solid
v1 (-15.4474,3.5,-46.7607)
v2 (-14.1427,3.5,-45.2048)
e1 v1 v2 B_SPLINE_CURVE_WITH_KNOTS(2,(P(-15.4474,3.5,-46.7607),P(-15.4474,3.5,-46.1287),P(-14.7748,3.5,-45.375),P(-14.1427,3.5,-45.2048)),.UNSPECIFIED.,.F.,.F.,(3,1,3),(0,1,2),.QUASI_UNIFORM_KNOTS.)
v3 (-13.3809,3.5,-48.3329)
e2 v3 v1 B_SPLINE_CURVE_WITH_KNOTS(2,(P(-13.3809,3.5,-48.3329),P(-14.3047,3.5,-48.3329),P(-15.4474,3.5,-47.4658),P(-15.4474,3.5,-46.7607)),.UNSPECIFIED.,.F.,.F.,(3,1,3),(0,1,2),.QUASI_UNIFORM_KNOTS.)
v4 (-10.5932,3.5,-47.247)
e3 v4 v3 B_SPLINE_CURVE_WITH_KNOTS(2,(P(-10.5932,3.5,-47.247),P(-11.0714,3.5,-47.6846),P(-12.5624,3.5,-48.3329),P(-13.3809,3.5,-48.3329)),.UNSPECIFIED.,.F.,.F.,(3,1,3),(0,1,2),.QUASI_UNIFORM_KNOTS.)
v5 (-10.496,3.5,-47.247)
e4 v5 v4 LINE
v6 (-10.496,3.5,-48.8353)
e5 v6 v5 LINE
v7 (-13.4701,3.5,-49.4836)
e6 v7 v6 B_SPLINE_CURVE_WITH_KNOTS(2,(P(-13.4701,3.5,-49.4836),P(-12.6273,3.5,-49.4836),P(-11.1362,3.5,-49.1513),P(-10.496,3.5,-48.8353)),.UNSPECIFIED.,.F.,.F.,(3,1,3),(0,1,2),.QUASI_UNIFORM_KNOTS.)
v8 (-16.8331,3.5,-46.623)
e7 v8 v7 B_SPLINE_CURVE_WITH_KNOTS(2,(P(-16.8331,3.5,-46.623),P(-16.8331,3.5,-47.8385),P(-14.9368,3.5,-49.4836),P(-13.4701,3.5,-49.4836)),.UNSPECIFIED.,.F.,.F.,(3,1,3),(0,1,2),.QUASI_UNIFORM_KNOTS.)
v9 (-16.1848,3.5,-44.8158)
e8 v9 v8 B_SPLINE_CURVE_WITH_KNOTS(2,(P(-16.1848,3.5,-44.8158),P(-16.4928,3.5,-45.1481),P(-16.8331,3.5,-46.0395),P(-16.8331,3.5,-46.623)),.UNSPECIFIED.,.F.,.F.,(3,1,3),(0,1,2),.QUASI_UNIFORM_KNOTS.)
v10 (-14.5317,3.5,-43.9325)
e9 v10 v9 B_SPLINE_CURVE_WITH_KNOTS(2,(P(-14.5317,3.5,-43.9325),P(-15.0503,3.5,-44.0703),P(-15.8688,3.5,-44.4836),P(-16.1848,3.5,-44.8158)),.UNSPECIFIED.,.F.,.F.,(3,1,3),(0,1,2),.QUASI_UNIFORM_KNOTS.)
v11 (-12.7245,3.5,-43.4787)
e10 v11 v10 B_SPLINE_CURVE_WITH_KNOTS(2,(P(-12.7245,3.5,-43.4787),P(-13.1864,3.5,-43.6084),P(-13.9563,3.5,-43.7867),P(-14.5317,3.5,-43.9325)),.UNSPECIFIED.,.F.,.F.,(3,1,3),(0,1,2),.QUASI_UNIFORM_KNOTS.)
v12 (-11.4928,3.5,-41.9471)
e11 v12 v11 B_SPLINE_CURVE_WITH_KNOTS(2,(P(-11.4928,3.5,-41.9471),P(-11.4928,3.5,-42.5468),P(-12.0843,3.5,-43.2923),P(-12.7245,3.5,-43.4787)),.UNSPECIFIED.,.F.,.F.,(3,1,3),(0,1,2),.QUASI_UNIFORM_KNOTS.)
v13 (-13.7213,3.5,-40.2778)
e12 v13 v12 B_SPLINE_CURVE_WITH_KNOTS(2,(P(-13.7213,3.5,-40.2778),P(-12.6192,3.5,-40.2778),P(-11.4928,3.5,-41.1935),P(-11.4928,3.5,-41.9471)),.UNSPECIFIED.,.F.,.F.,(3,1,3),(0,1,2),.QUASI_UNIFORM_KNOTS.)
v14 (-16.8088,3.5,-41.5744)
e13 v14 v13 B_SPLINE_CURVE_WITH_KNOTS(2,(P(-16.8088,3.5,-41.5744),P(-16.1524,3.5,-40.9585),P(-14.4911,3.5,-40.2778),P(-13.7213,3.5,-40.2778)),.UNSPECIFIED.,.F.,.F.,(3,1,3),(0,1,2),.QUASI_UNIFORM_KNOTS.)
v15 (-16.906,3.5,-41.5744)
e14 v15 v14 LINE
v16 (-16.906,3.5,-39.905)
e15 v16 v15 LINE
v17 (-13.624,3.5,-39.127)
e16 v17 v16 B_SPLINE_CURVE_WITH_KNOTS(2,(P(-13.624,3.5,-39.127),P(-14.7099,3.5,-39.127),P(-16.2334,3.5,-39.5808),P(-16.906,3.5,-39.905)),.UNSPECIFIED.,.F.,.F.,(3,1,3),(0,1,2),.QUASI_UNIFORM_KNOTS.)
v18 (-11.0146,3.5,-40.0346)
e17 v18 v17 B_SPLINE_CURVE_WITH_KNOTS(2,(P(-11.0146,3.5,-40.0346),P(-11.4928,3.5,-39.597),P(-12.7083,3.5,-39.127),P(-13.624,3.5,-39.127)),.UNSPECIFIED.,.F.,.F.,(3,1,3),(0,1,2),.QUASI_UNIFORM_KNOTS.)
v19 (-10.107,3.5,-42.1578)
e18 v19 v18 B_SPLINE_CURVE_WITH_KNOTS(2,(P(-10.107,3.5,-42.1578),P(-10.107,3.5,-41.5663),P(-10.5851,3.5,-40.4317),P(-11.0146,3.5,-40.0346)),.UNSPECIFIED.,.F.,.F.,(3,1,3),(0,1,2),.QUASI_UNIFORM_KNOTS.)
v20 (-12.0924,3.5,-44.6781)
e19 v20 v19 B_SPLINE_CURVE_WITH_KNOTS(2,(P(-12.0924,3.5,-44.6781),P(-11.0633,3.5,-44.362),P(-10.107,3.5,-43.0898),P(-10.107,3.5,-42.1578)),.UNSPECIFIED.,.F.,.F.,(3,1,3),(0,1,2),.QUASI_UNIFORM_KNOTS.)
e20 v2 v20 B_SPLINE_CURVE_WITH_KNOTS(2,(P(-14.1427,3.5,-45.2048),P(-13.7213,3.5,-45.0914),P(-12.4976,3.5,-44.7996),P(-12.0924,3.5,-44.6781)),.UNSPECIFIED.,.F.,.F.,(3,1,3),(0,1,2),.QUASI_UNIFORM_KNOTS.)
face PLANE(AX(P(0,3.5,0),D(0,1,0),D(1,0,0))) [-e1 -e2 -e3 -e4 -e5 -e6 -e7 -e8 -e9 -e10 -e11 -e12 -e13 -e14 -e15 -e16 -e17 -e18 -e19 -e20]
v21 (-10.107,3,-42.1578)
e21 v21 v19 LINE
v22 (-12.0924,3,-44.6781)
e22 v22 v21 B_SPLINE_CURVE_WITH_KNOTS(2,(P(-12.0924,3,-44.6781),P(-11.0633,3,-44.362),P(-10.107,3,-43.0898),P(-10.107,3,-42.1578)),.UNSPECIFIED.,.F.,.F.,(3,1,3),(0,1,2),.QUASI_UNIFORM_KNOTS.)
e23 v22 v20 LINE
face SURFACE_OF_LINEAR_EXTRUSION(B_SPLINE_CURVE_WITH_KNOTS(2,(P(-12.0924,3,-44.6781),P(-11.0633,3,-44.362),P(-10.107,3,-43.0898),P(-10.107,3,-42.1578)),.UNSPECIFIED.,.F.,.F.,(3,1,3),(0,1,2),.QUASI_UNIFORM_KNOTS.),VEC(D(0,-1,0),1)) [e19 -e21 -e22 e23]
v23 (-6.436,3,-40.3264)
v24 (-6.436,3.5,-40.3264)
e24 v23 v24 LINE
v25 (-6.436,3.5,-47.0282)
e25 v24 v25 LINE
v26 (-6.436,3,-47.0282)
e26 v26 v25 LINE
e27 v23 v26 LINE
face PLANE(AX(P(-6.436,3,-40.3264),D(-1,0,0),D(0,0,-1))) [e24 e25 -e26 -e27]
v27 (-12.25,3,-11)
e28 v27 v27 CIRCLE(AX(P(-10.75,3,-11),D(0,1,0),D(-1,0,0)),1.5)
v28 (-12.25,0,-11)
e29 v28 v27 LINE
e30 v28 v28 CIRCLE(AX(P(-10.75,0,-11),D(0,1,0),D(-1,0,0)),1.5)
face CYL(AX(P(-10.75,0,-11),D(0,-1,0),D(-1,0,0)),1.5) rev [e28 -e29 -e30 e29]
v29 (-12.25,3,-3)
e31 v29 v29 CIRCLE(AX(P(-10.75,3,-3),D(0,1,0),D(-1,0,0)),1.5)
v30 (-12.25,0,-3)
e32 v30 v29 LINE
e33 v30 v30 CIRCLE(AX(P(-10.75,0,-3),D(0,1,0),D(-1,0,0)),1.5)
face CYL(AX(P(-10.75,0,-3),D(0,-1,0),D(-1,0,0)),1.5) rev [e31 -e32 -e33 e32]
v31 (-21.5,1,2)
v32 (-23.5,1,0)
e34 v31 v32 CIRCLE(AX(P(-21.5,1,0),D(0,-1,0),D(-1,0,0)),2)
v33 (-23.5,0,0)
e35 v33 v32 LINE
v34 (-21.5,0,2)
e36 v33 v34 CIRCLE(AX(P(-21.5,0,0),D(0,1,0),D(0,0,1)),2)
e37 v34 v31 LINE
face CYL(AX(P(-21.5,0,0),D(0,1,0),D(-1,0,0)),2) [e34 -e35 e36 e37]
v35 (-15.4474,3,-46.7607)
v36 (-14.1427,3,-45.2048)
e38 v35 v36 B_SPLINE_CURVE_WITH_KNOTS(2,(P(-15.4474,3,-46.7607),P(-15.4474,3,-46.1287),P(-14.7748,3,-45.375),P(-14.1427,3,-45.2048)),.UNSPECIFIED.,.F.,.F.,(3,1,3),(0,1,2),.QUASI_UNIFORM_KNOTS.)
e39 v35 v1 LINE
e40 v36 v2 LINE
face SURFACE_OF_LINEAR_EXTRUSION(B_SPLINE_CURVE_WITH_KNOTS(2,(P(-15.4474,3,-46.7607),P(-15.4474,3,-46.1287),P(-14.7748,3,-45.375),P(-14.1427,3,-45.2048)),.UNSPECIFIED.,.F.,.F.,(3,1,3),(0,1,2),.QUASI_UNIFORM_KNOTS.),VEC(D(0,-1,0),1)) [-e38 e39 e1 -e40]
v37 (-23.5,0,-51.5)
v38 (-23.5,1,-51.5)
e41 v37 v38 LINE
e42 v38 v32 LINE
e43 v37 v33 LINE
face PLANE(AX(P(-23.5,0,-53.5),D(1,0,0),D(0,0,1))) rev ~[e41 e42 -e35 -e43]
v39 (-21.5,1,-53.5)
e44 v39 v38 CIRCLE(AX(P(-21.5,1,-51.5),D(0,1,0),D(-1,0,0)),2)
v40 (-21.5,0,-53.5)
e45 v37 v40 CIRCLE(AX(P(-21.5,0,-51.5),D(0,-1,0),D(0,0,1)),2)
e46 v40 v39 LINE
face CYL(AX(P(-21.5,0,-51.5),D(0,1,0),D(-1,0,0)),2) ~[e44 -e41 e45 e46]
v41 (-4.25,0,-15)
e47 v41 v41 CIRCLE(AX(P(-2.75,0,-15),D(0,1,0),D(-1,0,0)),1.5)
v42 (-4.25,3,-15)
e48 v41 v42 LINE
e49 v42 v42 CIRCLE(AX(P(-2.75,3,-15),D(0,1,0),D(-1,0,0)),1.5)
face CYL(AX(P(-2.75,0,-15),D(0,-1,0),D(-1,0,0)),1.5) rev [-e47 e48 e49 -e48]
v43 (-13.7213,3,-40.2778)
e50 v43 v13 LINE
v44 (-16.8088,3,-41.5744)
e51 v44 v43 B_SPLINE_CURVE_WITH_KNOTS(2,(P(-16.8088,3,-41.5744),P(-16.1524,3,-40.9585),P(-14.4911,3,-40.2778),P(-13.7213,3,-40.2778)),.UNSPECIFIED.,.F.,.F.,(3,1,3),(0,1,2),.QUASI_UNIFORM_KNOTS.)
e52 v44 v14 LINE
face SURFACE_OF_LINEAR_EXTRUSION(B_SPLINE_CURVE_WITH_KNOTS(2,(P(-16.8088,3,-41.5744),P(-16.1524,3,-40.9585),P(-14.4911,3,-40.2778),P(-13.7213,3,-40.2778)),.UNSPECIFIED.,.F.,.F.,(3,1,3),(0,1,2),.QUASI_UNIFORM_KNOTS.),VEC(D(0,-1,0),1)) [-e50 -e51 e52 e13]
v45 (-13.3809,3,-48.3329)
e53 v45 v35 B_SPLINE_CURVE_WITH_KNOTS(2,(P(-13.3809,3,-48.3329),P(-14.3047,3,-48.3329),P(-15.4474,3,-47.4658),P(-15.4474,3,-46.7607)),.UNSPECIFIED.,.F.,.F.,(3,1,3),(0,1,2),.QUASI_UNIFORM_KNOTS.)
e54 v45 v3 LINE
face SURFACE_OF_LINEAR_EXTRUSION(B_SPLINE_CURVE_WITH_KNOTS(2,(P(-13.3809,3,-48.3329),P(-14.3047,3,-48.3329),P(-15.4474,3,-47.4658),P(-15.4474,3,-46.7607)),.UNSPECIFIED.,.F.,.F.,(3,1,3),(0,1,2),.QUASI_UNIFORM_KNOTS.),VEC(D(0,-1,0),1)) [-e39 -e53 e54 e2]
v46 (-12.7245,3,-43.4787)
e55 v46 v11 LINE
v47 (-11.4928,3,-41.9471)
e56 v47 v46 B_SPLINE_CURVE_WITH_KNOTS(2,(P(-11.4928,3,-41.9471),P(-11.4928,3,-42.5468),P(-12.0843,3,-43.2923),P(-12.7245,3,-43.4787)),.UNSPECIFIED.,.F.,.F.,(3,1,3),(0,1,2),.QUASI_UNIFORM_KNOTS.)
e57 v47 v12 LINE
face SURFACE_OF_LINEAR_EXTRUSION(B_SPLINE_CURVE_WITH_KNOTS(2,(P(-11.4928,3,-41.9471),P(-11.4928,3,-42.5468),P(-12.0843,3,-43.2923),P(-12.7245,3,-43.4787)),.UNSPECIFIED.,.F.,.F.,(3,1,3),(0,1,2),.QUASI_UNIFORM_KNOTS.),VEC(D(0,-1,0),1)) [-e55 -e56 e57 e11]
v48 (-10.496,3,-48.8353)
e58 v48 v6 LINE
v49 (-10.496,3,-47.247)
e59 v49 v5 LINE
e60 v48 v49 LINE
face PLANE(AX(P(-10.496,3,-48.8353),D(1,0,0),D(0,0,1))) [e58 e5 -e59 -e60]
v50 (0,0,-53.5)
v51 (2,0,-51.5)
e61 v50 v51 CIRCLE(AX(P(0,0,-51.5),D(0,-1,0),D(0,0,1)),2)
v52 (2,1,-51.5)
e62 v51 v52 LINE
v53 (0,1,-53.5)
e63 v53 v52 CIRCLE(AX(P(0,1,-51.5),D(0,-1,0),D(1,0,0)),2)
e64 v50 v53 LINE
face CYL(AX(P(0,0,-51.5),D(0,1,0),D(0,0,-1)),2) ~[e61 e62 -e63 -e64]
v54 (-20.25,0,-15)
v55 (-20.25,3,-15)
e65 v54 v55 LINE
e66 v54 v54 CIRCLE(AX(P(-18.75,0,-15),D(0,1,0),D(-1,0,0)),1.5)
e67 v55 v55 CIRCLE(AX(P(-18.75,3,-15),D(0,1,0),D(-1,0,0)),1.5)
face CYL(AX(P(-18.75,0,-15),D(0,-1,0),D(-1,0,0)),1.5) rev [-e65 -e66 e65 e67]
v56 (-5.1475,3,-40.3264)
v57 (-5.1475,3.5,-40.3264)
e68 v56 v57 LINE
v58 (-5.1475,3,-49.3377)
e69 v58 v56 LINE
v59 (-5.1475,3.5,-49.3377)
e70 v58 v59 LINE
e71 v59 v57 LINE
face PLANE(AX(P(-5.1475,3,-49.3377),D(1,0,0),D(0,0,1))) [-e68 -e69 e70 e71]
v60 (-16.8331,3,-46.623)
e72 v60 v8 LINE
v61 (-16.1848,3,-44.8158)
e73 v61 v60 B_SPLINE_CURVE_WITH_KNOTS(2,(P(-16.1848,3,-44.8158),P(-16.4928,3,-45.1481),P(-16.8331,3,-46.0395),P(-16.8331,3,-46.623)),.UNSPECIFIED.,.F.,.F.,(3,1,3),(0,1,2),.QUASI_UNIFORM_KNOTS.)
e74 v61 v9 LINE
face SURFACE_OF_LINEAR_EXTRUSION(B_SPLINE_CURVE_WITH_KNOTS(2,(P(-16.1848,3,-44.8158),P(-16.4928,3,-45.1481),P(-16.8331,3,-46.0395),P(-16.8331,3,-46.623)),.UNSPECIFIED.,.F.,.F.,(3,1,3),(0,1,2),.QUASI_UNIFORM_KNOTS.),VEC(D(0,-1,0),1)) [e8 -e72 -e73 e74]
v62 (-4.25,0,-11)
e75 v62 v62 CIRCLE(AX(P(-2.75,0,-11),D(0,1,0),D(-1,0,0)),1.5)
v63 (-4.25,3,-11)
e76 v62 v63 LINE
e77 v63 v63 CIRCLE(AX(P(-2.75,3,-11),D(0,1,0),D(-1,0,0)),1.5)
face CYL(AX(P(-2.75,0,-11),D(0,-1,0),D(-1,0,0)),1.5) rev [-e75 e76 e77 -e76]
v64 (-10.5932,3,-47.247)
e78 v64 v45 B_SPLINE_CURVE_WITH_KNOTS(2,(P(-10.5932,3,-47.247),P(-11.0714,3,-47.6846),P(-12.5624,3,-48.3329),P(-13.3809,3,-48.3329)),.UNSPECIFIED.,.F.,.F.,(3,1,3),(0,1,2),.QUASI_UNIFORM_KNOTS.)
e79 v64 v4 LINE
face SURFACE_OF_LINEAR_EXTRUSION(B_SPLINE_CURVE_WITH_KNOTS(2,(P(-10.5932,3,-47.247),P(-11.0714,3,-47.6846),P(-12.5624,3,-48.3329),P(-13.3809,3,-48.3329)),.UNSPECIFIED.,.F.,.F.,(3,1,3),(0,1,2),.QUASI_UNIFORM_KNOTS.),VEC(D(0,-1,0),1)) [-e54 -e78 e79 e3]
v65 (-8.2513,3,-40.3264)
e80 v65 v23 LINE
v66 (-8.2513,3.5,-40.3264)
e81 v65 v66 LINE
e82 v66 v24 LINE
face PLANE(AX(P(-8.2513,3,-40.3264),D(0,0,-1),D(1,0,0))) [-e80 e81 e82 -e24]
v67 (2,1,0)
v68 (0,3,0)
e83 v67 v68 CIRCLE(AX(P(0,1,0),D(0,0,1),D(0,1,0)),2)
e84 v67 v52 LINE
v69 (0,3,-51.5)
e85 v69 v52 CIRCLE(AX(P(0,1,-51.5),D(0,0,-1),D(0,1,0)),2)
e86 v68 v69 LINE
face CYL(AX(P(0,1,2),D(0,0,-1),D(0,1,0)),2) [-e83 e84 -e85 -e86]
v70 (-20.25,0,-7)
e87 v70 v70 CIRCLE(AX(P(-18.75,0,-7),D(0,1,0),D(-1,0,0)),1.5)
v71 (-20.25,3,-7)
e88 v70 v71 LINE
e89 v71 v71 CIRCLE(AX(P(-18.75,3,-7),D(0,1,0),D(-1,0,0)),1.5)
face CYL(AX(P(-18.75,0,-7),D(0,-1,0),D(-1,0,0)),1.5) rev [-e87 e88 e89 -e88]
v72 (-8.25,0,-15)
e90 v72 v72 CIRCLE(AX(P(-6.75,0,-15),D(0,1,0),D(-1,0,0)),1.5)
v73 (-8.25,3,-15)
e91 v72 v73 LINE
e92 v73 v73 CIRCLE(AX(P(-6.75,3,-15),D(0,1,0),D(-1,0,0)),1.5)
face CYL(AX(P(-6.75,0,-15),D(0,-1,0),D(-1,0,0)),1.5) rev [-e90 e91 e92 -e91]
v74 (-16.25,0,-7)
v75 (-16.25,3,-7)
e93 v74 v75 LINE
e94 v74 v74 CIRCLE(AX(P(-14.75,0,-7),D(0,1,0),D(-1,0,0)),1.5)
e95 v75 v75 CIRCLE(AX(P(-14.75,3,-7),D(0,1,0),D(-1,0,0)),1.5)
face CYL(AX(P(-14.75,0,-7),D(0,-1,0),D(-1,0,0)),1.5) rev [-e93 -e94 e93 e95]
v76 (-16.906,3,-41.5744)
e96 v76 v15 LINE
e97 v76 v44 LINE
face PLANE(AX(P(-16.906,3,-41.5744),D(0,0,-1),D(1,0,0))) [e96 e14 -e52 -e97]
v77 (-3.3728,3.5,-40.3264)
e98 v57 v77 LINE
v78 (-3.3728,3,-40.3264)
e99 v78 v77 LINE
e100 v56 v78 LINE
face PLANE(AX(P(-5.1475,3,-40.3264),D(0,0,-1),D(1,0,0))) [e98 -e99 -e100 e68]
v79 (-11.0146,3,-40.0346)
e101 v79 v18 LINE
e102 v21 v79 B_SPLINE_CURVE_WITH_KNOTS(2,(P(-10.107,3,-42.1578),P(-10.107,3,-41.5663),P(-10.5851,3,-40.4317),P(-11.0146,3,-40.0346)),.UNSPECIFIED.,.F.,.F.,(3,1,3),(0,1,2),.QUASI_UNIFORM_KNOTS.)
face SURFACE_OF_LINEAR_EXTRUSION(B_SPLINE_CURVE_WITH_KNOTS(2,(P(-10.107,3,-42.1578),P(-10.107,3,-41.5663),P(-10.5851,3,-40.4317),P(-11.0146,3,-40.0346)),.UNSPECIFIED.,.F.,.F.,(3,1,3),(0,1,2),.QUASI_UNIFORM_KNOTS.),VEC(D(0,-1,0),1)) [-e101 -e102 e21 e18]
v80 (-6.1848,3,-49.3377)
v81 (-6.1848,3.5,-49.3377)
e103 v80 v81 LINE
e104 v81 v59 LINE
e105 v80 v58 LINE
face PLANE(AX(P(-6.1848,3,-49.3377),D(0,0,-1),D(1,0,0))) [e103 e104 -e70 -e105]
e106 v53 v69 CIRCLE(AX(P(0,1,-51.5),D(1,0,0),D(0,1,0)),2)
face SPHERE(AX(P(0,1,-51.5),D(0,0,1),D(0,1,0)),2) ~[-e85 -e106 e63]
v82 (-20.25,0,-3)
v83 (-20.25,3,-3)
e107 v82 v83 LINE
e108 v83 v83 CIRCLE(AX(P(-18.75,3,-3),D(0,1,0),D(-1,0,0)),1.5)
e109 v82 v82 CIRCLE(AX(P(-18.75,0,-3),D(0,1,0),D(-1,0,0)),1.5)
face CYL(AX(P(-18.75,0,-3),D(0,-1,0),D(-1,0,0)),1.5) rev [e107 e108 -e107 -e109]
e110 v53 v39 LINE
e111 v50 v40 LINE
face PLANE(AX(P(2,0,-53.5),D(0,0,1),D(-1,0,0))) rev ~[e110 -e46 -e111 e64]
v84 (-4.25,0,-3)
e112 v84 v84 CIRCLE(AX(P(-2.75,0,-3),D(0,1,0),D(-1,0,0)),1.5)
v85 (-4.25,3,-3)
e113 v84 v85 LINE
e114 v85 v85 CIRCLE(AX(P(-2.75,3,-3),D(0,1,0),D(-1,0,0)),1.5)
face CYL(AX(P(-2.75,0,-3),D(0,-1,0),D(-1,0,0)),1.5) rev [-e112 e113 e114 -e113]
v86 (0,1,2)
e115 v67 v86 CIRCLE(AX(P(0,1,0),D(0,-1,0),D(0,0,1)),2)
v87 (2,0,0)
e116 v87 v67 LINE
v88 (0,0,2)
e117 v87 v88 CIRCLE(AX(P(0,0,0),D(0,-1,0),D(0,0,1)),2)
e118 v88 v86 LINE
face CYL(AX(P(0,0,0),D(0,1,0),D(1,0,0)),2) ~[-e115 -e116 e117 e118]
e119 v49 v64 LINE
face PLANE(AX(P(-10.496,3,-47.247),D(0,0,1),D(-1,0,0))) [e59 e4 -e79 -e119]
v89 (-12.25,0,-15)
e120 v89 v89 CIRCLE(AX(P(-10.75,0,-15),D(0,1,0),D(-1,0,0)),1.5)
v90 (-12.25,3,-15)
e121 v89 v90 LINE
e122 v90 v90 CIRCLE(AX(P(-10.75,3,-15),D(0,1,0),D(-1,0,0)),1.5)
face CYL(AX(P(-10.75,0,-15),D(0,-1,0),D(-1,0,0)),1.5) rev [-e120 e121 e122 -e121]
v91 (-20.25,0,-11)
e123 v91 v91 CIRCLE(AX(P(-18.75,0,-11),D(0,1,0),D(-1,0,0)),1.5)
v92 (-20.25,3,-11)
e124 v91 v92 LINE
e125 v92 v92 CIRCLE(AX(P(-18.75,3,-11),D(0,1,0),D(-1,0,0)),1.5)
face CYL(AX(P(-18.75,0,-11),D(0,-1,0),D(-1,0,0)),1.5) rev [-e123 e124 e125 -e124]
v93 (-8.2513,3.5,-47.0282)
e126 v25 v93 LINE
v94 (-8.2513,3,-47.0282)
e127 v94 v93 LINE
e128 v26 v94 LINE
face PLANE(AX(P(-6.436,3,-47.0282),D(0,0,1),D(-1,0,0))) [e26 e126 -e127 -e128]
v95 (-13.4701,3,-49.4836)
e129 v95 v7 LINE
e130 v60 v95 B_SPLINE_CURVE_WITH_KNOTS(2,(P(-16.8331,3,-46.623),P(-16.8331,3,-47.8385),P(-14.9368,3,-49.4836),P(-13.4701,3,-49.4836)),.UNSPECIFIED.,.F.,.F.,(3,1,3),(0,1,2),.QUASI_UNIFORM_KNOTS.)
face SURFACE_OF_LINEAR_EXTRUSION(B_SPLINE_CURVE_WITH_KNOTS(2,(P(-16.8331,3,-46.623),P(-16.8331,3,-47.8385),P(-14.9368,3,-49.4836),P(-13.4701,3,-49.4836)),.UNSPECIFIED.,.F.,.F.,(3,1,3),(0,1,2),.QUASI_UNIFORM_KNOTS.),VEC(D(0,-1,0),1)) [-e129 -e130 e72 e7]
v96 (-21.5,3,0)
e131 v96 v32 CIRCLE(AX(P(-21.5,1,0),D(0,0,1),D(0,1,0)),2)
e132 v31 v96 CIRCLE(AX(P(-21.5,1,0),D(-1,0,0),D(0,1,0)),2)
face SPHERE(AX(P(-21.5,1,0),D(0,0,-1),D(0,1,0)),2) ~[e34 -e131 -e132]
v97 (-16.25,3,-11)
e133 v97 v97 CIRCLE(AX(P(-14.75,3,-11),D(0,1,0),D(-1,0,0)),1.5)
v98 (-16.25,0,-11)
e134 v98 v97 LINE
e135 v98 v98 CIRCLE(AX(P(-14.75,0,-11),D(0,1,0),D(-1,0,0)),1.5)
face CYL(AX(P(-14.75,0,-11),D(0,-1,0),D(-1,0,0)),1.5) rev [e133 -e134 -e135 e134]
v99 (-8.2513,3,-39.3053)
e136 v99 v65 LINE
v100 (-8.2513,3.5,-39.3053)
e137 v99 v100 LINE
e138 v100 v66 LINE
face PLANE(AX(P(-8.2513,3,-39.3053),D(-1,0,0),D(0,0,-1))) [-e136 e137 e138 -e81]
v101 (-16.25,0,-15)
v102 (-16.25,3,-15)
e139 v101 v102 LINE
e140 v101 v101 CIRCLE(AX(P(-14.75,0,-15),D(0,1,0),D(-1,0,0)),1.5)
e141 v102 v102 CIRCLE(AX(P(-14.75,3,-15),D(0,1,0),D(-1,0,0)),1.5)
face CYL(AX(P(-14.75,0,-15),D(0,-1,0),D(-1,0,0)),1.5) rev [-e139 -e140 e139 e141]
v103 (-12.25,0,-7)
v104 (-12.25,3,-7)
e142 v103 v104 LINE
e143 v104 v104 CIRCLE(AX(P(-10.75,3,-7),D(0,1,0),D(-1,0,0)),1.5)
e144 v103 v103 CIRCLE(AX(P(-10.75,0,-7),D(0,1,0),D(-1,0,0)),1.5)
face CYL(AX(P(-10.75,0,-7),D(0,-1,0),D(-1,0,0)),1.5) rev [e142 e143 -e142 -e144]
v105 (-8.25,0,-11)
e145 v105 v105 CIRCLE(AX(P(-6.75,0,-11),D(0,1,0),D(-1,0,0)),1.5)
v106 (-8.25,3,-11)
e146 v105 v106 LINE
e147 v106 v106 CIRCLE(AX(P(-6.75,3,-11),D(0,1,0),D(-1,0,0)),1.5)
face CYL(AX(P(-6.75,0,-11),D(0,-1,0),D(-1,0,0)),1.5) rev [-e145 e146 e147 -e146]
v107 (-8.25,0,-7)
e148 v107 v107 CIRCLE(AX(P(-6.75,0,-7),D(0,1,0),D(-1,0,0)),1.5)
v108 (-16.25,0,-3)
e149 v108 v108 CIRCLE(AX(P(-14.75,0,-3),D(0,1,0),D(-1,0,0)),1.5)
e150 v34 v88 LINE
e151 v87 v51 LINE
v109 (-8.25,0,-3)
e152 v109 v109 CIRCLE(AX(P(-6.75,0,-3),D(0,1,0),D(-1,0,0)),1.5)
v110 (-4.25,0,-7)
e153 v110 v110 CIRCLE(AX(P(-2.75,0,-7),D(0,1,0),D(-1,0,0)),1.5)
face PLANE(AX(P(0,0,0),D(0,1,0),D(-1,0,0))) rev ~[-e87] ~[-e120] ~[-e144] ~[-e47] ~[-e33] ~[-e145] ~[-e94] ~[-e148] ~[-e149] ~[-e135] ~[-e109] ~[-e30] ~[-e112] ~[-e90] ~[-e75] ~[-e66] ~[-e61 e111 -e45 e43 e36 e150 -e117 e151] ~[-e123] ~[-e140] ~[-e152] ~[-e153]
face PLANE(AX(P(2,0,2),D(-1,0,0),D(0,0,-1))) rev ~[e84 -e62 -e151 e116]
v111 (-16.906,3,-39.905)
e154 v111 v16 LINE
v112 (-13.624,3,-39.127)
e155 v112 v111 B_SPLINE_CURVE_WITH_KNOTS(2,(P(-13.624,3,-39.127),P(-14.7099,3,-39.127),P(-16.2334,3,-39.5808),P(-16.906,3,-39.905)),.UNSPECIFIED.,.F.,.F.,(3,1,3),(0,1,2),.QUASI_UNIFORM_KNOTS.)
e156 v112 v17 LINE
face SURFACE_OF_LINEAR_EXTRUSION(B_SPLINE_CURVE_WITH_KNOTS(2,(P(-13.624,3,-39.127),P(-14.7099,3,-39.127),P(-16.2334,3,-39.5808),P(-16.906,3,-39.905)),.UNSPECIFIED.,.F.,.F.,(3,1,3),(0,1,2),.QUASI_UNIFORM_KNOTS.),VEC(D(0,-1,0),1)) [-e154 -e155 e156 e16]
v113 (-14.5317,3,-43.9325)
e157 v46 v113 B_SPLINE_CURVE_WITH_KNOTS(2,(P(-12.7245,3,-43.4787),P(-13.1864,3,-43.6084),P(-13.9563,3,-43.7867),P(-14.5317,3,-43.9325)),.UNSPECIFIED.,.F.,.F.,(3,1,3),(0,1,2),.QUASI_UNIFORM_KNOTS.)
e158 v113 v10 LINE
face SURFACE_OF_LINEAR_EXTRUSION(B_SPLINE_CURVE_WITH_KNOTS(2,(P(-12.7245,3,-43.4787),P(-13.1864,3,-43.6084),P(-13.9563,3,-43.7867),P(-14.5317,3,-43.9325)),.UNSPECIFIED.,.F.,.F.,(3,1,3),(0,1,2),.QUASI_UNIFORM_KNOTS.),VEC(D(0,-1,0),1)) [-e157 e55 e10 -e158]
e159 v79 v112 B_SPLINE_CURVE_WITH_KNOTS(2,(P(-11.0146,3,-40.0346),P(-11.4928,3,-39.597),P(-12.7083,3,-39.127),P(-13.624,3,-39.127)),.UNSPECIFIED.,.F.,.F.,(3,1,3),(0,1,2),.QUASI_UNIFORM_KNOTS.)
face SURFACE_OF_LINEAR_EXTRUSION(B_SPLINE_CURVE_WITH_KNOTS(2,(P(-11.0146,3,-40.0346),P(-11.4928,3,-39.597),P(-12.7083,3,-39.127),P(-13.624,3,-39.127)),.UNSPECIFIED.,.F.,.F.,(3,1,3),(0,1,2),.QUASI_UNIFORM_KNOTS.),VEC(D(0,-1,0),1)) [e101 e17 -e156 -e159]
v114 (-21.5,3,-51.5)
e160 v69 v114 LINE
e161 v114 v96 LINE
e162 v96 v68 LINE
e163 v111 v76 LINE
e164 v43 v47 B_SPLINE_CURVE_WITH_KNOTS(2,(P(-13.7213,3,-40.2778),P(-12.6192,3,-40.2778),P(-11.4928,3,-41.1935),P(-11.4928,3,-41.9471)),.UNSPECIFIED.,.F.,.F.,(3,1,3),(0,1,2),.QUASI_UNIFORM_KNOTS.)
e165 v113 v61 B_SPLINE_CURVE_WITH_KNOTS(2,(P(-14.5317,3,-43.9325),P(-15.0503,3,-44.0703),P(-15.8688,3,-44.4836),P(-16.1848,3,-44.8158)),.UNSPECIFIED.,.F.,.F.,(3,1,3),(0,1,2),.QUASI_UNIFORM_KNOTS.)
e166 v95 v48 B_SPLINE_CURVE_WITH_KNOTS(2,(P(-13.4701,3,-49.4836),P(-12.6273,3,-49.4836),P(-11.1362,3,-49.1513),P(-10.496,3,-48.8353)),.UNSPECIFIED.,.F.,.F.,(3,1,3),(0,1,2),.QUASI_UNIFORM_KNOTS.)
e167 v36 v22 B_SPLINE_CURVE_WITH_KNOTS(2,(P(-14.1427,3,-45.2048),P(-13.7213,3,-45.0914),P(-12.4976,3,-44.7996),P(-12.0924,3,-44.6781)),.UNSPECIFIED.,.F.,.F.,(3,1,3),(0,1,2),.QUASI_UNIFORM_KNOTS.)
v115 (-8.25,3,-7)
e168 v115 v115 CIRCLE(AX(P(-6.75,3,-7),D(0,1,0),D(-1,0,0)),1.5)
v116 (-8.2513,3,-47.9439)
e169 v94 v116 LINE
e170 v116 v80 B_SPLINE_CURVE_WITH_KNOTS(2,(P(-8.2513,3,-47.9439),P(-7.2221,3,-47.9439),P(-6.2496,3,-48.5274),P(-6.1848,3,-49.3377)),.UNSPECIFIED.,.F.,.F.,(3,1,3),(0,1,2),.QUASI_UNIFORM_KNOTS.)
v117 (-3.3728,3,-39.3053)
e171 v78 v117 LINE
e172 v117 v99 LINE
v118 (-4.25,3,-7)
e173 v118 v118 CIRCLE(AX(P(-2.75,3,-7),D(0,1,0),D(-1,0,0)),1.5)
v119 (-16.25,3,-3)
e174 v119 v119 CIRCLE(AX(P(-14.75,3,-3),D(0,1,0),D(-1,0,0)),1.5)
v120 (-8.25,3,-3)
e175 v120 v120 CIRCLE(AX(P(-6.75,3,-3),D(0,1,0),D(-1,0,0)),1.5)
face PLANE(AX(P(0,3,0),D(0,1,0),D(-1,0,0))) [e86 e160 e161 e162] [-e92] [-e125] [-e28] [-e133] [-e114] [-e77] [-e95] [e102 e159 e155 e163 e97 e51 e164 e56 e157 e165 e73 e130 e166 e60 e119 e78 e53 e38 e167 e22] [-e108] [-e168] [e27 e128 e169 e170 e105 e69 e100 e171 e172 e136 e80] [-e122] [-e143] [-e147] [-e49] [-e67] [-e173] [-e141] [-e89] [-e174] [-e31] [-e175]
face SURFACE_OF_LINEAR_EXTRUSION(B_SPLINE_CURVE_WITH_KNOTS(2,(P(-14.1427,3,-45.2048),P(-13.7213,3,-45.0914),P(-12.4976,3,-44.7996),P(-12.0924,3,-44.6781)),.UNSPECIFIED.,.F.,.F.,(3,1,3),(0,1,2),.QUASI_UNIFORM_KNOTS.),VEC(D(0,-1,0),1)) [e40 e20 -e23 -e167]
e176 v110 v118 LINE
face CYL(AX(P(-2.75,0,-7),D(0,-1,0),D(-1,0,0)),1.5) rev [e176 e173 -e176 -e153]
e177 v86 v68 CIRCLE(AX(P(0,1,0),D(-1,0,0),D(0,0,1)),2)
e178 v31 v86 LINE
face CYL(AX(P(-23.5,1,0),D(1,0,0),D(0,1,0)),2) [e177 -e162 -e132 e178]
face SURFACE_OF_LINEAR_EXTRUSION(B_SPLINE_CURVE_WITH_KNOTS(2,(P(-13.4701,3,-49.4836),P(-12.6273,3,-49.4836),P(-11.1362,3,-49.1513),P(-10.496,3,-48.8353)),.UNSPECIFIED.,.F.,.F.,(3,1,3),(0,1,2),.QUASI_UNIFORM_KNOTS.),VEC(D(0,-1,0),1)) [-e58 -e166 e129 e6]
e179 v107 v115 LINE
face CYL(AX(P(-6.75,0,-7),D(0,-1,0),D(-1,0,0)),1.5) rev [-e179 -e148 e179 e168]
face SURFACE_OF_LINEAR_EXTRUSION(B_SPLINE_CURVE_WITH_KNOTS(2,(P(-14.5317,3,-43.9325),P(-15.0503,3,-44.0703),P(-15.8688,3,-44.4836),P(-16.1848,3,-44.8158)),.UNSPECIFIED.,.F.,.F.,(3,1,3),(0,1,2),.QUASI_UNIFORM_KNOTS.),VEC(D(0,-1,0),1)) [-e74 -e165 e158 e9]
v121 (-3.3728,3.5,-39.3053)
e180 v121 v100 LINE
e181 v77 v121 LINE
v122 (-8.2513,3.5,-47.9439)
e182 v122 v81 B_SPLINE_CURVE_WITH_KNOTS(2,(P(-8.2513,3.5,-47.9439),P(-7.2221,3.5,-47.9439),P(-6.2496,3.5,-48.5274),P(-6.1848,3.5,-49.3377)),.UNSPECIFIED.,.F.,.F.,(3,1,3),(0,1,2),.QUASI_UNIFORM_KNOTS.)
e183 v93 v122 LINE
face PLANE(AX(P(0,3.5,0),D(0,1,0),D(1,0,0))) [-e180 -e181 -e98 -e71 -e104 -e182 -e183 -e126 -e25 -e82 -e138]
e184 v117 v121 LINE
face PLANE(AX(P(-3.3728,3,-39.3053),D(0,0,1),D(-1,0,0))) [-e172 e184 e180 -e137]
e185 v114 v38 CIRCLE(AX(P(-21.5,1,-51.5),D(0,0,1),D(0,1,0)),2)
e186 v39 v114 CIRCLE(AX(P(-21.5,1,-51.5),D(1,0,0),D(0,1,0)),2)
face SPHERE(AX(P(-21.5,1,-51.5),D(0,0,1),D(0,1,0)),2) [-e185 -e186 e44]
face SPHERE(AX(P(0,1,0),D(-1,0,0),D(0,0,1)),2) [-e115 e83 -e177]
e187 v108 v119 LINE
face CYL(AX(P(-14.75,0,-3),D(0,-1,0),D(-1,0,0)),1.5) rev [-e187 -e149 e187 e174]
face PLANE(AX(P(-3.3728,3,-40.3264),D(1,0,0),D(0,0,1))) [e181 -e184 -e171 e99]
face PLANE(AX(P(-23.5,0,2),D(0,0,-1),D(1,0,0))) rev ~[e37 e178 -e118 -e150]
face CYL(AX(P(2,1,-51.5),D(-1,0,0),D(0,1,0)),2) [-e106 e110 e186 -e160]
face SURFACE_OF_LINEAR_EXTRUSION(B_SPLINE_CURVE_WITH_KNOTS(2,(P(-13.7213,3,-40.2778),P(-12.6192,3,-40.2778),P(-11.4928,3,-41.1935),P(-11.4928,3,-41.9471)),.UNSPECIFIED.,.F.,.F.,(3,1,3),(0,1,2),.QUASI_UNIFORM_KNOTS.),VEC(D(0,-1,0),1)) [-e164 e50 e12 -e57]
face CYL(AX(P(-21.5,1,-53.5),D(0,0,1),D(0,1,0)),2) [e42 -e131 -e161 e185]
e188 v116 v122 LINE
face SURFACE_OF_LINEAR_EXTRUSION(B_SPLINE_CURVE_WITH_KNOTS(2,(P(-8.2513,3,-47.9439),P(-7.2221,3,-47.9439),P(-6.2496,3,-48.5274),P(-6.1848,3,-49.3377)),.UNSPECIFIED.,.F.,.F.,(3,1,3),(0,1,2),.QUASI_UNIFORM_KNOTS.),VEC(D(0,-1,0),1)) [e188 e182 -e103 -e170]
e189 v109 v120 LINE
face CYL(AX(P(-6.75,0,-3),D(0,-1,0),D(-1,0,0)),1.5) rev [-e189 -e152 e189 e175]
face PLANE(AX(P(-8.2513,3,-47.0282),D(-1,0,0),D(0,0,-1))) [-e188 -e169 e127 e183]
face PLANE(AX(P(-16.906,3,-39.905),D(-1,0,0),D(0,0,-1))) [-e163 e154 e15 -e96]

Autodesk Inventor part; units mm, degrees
ref_plane "YZ Plane" through (0, 0, 0) normal (1, 0, 0) x (0, 1, 0)
ref_plane "XZ Plane" through (0, 0, 0) normal (0, 1, 0) x (-1, 0, 0)
ref_plane "XY Plane" through (0, 0, 0) normal (0, 0, 1) x (1, 0, 0)
sketch "Sketch1" plane through (0, 0, 0) normal (0, 1, 0) x (-1, 0, 0)
  line L0 (0, 0) -> (21.5, 0)
  line L1 (21.5, 0) -> (21.5, -51.5)
  line L2 (21.5, -51.5) -> (0, -51.5)
  line L3 (0, -51.5) -> (0, 0)
  line L4 (23.5, 2) -> (-2, 2)
  line L5 (-2, 2) -> (-2, -53.5)
  line L6 (-2, -53.5) -> (23.5, -53.5)
  line L7 (23.5, -53.5) -> (23.5, 2)
  line L8 (10.75, 0) -> (10.75, -51.5) construction
  circle A0 centre (10.75, -3) radius 1.5
  line L9 (0, -3) -> (21.5, -3) construction
  circle A1 centre (14.75, -3) radius 1.5
  circle A2 centre (18.75, -3) radius 1.5
  circle A3 centre (6.75, -3) radius 1.5
  circle A4 centre (2.75, -3) radius 1.5
  circle A5 centre (18.75, -7) radius 1.5
  circle A6 centre (14.75, -7) radius 1.5
  circle A7 centre (10.75, -7) radius 1.5
  circle A8 centre (6.75, -7) radius 1.5
  circle A9 centre (2.75, -7) radius 1.5
  circle A10 centre (18.75, -11) radius 1.5
  circle A11 centre (14.75, -11) radius 1.5
  circle A12 centre (10.75, -11) radius 1.5
  circle A13 centre (6.75, -11) radius 1.5
  circle A14 centre (2.75, -11) radius 1.5
  circle A15 centre (18.75, -15) radius 1.5
  circle A16 centre (14.75, -15) radius 1.5
  circle A17 centre (10.75, -15) radius 1.5
  circle A18 centre (6.75, -15) radius 1.5
  circle A19 centre (2.75, -15) radius 1.5
  point P0 (10.75, -3)
  point P1 (10.75, -7)
  point P2 (10.75, -11)
  point P3 (10.75, -15)
  dimension "d0" = 21.5
  dimension "d1" = 51.5
  dimension "d2" = 2
  dimension "d3" = 2
  dimension "d4" = 2
  dimension "d5" = 2
  dimension "d6" = 3
  dimension "d8" = 3
  dimension "d9" = 3
  dimension "d10" = 3
  dimension "d11" = 3
  dimension "d12" = 3
  dimension "d13" = 4
  dimension "d14" = 4
  dimension "d15" = 4
  dimension "d16" = 4
  dimension "d19" = 4
extrude "Extrusion1" add sketch "Sketch1" along normal blind 3 contours L0 L1 L2 L3 | L7 L6 L5 L4
fillet "Fillet1" radius 2 8 edges at (-23.5, 3, -25.75) (-10.75, 3, 2) (-23.5, 1.5, 2) (2, 1.5, 2) (2, 3, -25.75) (-10.75, 3, -53.5) (-23.5, 1.5, -53.5) (2, 1.5, -53.5)
sketch "Sketch2" plane through (0, 3, 0) normal (0, 1, 0) x (1, 0, 0)
  line L0 (-17.4247, 49.4836) -> (-8.1758, 49.4836) construction
  line L1 (-8.1758, 49.4836) -> (-8.1758, 43.1661) construction
  line L2 (-8.1758, 43.1661) -> (-17.4247, 43.1661) construction
  line L3 (-17.4247, 43.1661) -> (-17.4247, 49.4836) construction
  spline S0 degree 2 poles (-13.624, 39.127) (-14.7099, 39.127) (-16.2334, 39.5808) (-16.906, 39.905) knots 0 0 0 1 2 2 2
  line L4 (-16.906, 39.905) -> (-16.906, 41.5744)
  line L5 (-16.906, 41.5744) -> (-16.8088, 41.5744)
  spline S1 degree 2 poles (-16.8088, 41.5744) (-16.1524, 40.9585) (-14.4911, 40.2778) (-13.7213, 40.2778) knots 0 0 0 1 2 2 2
  spline S2 degree 2 poles (-13.7213, 40.2778) (-12.6192, 40.2778) (-11.4928, 41.1935) (-11.4928, 41.9471) knots 0 0 0 1 2 2 2
  spline S3 degree 2 poles (-11.4928, 41.9471) (-11.4928, 42.5468) (-12.0843, 43.2923) (-12.7245, 43.4787) knots 0 0 0 1 2 2 2
  spline S4 degree 2 poles (-12.7245, 43.4787) (-13.1864, 43.6084) (-13.9563, 43.7867) (-14.5317, 43.9325) knots 0 0 0 1 2 2 2
  spline S5 degree 2 poles (-14.5317, 43.9325) (-15.0503, 44.0703) (-15.8688, 44.4836) (-16.1848, 44.8158) knots 0 0 0 1 2 2 2
  spline S6 degree 2 poles (-16.1848, 44.8158) (-16.4928, 45.1481) (-16.8331, 46.0395) (-16.8331, 46.623) knots 0 0 0 1 2 2 2
  spline S7 degree 2 poles (-16.8331, 46.623) (-16.8331, 47.8385) (-14.9368, 49.4836) (-13.4701, 49.4836) knots 0 0 0 1 2 2 2
  spline S8 degree 2 poles (-13.4701, 49.4836) (-12.6273, 49.4836) (-11.1362, 49.1513) (-10.496, 48.8353) knots 0 0 0 1 2 2 2
  line L6 (-10.496, 48.8353) -> (-10.496, 47.247)
  line L7 (-10.496, 47.247) -> (-10.5932, 47.247)
  spline S9 degree 2 poles (-10.5932, 47.247) (-11.0714, 47.6846) (-12.5624, 48.3329) (-13.3809, 48.3329) knots 0 0 0 1 2 2 2
  spline S10 degree 2 poles (-13.3809, 48.3329) (-14.3047, 48.3329) (-15.4474, 47.4658) (-15.4474, 46.7607) knots 0 0 0 1 2 2 2
  spline S11 degree 2 poles (-15.4474, 46.7607) (-15.4474, 46.1287) (-14.7748, 45.375) (-14.1427, 45.2048) knots 0 0 0 1 2 2 2
  spline S12 degree 2 poles (-14.1427, 45.2048) (-13.7213, 45.0914) (-12.4976, 44.7996) (-12.0924, 44.6781) knots 0 0 0 1 2 2 2
  spline S13 degree 2 poles (-12.0924, 44.6781) (-11.0633, 44.362) (-10.107, 43.0898) (-10.107, 42.1578) knots 0 0 0 1 2 2 2
  spline S14 degree 2 poles (-10.107, 42.1578) (-10.107, 41.5663) (-10.5851, 40.4317) (-11.0146, 40.0346) knots 0 0 0 1 2 2 2
  spline S15 degree 2 poles (-11.0146, 40.0346) (-11.4928, 39.597) (-12.7083, 39.127) (-13.624, 39.127) knots 0 0 0 1 2 2 2
  line L8 (-3.3728, 39.3053) -> (-8.2513, 39.3053)
  line L9 (-8.2513, 39.3053) -> (-8.2513, 40.3264)
  line L10 (-8.2513, 40.3264) -> (-6.436, 40.3264)
  line L11 (-6.436, 40.3264) -> (-6.436, 47.0282)
  line L12 (-6.436, 47.0282) -> (-8.2513, 47.0282)
  line L13 (-8.2513, 47.0282) -> (-8.2513, 47.9439)
  spline S16 degree 2 poles (-8.2513, 47.9439) (-7.2221, 47.9439) (-6.2496, 48.5274) (-6.1848, 49.3377) knots 0 0 0 1 2 2 2
  line L14 (-6.1848, 49.3377) -> (-5.1475, 49.3377)
  line L15 (-5.1475, 49.3377) -> (-5.1475, 40.3264)
  line L16 (-5.1475, 40.3264) -> (-3.3728, 40.3264)
  line L17 (-3.3728, 40.3264) -> (-3.3728, 39.3053)
  point P0 (0, 0)
extrude "Extrusion2" add sketch "Sketch2" along normal blind 0.5
equation "\"d8\" = d6"
equation "\"d9\" = d11"
equation "\"d10\" = d11"
equation "\"d11\" = d6"
equation "\"d12\" = d11"
equation "\"d14\" = d13"
equation "\"d15\" = d13"
equation "\"d16\" = d15"
properties part number "sensor1"
